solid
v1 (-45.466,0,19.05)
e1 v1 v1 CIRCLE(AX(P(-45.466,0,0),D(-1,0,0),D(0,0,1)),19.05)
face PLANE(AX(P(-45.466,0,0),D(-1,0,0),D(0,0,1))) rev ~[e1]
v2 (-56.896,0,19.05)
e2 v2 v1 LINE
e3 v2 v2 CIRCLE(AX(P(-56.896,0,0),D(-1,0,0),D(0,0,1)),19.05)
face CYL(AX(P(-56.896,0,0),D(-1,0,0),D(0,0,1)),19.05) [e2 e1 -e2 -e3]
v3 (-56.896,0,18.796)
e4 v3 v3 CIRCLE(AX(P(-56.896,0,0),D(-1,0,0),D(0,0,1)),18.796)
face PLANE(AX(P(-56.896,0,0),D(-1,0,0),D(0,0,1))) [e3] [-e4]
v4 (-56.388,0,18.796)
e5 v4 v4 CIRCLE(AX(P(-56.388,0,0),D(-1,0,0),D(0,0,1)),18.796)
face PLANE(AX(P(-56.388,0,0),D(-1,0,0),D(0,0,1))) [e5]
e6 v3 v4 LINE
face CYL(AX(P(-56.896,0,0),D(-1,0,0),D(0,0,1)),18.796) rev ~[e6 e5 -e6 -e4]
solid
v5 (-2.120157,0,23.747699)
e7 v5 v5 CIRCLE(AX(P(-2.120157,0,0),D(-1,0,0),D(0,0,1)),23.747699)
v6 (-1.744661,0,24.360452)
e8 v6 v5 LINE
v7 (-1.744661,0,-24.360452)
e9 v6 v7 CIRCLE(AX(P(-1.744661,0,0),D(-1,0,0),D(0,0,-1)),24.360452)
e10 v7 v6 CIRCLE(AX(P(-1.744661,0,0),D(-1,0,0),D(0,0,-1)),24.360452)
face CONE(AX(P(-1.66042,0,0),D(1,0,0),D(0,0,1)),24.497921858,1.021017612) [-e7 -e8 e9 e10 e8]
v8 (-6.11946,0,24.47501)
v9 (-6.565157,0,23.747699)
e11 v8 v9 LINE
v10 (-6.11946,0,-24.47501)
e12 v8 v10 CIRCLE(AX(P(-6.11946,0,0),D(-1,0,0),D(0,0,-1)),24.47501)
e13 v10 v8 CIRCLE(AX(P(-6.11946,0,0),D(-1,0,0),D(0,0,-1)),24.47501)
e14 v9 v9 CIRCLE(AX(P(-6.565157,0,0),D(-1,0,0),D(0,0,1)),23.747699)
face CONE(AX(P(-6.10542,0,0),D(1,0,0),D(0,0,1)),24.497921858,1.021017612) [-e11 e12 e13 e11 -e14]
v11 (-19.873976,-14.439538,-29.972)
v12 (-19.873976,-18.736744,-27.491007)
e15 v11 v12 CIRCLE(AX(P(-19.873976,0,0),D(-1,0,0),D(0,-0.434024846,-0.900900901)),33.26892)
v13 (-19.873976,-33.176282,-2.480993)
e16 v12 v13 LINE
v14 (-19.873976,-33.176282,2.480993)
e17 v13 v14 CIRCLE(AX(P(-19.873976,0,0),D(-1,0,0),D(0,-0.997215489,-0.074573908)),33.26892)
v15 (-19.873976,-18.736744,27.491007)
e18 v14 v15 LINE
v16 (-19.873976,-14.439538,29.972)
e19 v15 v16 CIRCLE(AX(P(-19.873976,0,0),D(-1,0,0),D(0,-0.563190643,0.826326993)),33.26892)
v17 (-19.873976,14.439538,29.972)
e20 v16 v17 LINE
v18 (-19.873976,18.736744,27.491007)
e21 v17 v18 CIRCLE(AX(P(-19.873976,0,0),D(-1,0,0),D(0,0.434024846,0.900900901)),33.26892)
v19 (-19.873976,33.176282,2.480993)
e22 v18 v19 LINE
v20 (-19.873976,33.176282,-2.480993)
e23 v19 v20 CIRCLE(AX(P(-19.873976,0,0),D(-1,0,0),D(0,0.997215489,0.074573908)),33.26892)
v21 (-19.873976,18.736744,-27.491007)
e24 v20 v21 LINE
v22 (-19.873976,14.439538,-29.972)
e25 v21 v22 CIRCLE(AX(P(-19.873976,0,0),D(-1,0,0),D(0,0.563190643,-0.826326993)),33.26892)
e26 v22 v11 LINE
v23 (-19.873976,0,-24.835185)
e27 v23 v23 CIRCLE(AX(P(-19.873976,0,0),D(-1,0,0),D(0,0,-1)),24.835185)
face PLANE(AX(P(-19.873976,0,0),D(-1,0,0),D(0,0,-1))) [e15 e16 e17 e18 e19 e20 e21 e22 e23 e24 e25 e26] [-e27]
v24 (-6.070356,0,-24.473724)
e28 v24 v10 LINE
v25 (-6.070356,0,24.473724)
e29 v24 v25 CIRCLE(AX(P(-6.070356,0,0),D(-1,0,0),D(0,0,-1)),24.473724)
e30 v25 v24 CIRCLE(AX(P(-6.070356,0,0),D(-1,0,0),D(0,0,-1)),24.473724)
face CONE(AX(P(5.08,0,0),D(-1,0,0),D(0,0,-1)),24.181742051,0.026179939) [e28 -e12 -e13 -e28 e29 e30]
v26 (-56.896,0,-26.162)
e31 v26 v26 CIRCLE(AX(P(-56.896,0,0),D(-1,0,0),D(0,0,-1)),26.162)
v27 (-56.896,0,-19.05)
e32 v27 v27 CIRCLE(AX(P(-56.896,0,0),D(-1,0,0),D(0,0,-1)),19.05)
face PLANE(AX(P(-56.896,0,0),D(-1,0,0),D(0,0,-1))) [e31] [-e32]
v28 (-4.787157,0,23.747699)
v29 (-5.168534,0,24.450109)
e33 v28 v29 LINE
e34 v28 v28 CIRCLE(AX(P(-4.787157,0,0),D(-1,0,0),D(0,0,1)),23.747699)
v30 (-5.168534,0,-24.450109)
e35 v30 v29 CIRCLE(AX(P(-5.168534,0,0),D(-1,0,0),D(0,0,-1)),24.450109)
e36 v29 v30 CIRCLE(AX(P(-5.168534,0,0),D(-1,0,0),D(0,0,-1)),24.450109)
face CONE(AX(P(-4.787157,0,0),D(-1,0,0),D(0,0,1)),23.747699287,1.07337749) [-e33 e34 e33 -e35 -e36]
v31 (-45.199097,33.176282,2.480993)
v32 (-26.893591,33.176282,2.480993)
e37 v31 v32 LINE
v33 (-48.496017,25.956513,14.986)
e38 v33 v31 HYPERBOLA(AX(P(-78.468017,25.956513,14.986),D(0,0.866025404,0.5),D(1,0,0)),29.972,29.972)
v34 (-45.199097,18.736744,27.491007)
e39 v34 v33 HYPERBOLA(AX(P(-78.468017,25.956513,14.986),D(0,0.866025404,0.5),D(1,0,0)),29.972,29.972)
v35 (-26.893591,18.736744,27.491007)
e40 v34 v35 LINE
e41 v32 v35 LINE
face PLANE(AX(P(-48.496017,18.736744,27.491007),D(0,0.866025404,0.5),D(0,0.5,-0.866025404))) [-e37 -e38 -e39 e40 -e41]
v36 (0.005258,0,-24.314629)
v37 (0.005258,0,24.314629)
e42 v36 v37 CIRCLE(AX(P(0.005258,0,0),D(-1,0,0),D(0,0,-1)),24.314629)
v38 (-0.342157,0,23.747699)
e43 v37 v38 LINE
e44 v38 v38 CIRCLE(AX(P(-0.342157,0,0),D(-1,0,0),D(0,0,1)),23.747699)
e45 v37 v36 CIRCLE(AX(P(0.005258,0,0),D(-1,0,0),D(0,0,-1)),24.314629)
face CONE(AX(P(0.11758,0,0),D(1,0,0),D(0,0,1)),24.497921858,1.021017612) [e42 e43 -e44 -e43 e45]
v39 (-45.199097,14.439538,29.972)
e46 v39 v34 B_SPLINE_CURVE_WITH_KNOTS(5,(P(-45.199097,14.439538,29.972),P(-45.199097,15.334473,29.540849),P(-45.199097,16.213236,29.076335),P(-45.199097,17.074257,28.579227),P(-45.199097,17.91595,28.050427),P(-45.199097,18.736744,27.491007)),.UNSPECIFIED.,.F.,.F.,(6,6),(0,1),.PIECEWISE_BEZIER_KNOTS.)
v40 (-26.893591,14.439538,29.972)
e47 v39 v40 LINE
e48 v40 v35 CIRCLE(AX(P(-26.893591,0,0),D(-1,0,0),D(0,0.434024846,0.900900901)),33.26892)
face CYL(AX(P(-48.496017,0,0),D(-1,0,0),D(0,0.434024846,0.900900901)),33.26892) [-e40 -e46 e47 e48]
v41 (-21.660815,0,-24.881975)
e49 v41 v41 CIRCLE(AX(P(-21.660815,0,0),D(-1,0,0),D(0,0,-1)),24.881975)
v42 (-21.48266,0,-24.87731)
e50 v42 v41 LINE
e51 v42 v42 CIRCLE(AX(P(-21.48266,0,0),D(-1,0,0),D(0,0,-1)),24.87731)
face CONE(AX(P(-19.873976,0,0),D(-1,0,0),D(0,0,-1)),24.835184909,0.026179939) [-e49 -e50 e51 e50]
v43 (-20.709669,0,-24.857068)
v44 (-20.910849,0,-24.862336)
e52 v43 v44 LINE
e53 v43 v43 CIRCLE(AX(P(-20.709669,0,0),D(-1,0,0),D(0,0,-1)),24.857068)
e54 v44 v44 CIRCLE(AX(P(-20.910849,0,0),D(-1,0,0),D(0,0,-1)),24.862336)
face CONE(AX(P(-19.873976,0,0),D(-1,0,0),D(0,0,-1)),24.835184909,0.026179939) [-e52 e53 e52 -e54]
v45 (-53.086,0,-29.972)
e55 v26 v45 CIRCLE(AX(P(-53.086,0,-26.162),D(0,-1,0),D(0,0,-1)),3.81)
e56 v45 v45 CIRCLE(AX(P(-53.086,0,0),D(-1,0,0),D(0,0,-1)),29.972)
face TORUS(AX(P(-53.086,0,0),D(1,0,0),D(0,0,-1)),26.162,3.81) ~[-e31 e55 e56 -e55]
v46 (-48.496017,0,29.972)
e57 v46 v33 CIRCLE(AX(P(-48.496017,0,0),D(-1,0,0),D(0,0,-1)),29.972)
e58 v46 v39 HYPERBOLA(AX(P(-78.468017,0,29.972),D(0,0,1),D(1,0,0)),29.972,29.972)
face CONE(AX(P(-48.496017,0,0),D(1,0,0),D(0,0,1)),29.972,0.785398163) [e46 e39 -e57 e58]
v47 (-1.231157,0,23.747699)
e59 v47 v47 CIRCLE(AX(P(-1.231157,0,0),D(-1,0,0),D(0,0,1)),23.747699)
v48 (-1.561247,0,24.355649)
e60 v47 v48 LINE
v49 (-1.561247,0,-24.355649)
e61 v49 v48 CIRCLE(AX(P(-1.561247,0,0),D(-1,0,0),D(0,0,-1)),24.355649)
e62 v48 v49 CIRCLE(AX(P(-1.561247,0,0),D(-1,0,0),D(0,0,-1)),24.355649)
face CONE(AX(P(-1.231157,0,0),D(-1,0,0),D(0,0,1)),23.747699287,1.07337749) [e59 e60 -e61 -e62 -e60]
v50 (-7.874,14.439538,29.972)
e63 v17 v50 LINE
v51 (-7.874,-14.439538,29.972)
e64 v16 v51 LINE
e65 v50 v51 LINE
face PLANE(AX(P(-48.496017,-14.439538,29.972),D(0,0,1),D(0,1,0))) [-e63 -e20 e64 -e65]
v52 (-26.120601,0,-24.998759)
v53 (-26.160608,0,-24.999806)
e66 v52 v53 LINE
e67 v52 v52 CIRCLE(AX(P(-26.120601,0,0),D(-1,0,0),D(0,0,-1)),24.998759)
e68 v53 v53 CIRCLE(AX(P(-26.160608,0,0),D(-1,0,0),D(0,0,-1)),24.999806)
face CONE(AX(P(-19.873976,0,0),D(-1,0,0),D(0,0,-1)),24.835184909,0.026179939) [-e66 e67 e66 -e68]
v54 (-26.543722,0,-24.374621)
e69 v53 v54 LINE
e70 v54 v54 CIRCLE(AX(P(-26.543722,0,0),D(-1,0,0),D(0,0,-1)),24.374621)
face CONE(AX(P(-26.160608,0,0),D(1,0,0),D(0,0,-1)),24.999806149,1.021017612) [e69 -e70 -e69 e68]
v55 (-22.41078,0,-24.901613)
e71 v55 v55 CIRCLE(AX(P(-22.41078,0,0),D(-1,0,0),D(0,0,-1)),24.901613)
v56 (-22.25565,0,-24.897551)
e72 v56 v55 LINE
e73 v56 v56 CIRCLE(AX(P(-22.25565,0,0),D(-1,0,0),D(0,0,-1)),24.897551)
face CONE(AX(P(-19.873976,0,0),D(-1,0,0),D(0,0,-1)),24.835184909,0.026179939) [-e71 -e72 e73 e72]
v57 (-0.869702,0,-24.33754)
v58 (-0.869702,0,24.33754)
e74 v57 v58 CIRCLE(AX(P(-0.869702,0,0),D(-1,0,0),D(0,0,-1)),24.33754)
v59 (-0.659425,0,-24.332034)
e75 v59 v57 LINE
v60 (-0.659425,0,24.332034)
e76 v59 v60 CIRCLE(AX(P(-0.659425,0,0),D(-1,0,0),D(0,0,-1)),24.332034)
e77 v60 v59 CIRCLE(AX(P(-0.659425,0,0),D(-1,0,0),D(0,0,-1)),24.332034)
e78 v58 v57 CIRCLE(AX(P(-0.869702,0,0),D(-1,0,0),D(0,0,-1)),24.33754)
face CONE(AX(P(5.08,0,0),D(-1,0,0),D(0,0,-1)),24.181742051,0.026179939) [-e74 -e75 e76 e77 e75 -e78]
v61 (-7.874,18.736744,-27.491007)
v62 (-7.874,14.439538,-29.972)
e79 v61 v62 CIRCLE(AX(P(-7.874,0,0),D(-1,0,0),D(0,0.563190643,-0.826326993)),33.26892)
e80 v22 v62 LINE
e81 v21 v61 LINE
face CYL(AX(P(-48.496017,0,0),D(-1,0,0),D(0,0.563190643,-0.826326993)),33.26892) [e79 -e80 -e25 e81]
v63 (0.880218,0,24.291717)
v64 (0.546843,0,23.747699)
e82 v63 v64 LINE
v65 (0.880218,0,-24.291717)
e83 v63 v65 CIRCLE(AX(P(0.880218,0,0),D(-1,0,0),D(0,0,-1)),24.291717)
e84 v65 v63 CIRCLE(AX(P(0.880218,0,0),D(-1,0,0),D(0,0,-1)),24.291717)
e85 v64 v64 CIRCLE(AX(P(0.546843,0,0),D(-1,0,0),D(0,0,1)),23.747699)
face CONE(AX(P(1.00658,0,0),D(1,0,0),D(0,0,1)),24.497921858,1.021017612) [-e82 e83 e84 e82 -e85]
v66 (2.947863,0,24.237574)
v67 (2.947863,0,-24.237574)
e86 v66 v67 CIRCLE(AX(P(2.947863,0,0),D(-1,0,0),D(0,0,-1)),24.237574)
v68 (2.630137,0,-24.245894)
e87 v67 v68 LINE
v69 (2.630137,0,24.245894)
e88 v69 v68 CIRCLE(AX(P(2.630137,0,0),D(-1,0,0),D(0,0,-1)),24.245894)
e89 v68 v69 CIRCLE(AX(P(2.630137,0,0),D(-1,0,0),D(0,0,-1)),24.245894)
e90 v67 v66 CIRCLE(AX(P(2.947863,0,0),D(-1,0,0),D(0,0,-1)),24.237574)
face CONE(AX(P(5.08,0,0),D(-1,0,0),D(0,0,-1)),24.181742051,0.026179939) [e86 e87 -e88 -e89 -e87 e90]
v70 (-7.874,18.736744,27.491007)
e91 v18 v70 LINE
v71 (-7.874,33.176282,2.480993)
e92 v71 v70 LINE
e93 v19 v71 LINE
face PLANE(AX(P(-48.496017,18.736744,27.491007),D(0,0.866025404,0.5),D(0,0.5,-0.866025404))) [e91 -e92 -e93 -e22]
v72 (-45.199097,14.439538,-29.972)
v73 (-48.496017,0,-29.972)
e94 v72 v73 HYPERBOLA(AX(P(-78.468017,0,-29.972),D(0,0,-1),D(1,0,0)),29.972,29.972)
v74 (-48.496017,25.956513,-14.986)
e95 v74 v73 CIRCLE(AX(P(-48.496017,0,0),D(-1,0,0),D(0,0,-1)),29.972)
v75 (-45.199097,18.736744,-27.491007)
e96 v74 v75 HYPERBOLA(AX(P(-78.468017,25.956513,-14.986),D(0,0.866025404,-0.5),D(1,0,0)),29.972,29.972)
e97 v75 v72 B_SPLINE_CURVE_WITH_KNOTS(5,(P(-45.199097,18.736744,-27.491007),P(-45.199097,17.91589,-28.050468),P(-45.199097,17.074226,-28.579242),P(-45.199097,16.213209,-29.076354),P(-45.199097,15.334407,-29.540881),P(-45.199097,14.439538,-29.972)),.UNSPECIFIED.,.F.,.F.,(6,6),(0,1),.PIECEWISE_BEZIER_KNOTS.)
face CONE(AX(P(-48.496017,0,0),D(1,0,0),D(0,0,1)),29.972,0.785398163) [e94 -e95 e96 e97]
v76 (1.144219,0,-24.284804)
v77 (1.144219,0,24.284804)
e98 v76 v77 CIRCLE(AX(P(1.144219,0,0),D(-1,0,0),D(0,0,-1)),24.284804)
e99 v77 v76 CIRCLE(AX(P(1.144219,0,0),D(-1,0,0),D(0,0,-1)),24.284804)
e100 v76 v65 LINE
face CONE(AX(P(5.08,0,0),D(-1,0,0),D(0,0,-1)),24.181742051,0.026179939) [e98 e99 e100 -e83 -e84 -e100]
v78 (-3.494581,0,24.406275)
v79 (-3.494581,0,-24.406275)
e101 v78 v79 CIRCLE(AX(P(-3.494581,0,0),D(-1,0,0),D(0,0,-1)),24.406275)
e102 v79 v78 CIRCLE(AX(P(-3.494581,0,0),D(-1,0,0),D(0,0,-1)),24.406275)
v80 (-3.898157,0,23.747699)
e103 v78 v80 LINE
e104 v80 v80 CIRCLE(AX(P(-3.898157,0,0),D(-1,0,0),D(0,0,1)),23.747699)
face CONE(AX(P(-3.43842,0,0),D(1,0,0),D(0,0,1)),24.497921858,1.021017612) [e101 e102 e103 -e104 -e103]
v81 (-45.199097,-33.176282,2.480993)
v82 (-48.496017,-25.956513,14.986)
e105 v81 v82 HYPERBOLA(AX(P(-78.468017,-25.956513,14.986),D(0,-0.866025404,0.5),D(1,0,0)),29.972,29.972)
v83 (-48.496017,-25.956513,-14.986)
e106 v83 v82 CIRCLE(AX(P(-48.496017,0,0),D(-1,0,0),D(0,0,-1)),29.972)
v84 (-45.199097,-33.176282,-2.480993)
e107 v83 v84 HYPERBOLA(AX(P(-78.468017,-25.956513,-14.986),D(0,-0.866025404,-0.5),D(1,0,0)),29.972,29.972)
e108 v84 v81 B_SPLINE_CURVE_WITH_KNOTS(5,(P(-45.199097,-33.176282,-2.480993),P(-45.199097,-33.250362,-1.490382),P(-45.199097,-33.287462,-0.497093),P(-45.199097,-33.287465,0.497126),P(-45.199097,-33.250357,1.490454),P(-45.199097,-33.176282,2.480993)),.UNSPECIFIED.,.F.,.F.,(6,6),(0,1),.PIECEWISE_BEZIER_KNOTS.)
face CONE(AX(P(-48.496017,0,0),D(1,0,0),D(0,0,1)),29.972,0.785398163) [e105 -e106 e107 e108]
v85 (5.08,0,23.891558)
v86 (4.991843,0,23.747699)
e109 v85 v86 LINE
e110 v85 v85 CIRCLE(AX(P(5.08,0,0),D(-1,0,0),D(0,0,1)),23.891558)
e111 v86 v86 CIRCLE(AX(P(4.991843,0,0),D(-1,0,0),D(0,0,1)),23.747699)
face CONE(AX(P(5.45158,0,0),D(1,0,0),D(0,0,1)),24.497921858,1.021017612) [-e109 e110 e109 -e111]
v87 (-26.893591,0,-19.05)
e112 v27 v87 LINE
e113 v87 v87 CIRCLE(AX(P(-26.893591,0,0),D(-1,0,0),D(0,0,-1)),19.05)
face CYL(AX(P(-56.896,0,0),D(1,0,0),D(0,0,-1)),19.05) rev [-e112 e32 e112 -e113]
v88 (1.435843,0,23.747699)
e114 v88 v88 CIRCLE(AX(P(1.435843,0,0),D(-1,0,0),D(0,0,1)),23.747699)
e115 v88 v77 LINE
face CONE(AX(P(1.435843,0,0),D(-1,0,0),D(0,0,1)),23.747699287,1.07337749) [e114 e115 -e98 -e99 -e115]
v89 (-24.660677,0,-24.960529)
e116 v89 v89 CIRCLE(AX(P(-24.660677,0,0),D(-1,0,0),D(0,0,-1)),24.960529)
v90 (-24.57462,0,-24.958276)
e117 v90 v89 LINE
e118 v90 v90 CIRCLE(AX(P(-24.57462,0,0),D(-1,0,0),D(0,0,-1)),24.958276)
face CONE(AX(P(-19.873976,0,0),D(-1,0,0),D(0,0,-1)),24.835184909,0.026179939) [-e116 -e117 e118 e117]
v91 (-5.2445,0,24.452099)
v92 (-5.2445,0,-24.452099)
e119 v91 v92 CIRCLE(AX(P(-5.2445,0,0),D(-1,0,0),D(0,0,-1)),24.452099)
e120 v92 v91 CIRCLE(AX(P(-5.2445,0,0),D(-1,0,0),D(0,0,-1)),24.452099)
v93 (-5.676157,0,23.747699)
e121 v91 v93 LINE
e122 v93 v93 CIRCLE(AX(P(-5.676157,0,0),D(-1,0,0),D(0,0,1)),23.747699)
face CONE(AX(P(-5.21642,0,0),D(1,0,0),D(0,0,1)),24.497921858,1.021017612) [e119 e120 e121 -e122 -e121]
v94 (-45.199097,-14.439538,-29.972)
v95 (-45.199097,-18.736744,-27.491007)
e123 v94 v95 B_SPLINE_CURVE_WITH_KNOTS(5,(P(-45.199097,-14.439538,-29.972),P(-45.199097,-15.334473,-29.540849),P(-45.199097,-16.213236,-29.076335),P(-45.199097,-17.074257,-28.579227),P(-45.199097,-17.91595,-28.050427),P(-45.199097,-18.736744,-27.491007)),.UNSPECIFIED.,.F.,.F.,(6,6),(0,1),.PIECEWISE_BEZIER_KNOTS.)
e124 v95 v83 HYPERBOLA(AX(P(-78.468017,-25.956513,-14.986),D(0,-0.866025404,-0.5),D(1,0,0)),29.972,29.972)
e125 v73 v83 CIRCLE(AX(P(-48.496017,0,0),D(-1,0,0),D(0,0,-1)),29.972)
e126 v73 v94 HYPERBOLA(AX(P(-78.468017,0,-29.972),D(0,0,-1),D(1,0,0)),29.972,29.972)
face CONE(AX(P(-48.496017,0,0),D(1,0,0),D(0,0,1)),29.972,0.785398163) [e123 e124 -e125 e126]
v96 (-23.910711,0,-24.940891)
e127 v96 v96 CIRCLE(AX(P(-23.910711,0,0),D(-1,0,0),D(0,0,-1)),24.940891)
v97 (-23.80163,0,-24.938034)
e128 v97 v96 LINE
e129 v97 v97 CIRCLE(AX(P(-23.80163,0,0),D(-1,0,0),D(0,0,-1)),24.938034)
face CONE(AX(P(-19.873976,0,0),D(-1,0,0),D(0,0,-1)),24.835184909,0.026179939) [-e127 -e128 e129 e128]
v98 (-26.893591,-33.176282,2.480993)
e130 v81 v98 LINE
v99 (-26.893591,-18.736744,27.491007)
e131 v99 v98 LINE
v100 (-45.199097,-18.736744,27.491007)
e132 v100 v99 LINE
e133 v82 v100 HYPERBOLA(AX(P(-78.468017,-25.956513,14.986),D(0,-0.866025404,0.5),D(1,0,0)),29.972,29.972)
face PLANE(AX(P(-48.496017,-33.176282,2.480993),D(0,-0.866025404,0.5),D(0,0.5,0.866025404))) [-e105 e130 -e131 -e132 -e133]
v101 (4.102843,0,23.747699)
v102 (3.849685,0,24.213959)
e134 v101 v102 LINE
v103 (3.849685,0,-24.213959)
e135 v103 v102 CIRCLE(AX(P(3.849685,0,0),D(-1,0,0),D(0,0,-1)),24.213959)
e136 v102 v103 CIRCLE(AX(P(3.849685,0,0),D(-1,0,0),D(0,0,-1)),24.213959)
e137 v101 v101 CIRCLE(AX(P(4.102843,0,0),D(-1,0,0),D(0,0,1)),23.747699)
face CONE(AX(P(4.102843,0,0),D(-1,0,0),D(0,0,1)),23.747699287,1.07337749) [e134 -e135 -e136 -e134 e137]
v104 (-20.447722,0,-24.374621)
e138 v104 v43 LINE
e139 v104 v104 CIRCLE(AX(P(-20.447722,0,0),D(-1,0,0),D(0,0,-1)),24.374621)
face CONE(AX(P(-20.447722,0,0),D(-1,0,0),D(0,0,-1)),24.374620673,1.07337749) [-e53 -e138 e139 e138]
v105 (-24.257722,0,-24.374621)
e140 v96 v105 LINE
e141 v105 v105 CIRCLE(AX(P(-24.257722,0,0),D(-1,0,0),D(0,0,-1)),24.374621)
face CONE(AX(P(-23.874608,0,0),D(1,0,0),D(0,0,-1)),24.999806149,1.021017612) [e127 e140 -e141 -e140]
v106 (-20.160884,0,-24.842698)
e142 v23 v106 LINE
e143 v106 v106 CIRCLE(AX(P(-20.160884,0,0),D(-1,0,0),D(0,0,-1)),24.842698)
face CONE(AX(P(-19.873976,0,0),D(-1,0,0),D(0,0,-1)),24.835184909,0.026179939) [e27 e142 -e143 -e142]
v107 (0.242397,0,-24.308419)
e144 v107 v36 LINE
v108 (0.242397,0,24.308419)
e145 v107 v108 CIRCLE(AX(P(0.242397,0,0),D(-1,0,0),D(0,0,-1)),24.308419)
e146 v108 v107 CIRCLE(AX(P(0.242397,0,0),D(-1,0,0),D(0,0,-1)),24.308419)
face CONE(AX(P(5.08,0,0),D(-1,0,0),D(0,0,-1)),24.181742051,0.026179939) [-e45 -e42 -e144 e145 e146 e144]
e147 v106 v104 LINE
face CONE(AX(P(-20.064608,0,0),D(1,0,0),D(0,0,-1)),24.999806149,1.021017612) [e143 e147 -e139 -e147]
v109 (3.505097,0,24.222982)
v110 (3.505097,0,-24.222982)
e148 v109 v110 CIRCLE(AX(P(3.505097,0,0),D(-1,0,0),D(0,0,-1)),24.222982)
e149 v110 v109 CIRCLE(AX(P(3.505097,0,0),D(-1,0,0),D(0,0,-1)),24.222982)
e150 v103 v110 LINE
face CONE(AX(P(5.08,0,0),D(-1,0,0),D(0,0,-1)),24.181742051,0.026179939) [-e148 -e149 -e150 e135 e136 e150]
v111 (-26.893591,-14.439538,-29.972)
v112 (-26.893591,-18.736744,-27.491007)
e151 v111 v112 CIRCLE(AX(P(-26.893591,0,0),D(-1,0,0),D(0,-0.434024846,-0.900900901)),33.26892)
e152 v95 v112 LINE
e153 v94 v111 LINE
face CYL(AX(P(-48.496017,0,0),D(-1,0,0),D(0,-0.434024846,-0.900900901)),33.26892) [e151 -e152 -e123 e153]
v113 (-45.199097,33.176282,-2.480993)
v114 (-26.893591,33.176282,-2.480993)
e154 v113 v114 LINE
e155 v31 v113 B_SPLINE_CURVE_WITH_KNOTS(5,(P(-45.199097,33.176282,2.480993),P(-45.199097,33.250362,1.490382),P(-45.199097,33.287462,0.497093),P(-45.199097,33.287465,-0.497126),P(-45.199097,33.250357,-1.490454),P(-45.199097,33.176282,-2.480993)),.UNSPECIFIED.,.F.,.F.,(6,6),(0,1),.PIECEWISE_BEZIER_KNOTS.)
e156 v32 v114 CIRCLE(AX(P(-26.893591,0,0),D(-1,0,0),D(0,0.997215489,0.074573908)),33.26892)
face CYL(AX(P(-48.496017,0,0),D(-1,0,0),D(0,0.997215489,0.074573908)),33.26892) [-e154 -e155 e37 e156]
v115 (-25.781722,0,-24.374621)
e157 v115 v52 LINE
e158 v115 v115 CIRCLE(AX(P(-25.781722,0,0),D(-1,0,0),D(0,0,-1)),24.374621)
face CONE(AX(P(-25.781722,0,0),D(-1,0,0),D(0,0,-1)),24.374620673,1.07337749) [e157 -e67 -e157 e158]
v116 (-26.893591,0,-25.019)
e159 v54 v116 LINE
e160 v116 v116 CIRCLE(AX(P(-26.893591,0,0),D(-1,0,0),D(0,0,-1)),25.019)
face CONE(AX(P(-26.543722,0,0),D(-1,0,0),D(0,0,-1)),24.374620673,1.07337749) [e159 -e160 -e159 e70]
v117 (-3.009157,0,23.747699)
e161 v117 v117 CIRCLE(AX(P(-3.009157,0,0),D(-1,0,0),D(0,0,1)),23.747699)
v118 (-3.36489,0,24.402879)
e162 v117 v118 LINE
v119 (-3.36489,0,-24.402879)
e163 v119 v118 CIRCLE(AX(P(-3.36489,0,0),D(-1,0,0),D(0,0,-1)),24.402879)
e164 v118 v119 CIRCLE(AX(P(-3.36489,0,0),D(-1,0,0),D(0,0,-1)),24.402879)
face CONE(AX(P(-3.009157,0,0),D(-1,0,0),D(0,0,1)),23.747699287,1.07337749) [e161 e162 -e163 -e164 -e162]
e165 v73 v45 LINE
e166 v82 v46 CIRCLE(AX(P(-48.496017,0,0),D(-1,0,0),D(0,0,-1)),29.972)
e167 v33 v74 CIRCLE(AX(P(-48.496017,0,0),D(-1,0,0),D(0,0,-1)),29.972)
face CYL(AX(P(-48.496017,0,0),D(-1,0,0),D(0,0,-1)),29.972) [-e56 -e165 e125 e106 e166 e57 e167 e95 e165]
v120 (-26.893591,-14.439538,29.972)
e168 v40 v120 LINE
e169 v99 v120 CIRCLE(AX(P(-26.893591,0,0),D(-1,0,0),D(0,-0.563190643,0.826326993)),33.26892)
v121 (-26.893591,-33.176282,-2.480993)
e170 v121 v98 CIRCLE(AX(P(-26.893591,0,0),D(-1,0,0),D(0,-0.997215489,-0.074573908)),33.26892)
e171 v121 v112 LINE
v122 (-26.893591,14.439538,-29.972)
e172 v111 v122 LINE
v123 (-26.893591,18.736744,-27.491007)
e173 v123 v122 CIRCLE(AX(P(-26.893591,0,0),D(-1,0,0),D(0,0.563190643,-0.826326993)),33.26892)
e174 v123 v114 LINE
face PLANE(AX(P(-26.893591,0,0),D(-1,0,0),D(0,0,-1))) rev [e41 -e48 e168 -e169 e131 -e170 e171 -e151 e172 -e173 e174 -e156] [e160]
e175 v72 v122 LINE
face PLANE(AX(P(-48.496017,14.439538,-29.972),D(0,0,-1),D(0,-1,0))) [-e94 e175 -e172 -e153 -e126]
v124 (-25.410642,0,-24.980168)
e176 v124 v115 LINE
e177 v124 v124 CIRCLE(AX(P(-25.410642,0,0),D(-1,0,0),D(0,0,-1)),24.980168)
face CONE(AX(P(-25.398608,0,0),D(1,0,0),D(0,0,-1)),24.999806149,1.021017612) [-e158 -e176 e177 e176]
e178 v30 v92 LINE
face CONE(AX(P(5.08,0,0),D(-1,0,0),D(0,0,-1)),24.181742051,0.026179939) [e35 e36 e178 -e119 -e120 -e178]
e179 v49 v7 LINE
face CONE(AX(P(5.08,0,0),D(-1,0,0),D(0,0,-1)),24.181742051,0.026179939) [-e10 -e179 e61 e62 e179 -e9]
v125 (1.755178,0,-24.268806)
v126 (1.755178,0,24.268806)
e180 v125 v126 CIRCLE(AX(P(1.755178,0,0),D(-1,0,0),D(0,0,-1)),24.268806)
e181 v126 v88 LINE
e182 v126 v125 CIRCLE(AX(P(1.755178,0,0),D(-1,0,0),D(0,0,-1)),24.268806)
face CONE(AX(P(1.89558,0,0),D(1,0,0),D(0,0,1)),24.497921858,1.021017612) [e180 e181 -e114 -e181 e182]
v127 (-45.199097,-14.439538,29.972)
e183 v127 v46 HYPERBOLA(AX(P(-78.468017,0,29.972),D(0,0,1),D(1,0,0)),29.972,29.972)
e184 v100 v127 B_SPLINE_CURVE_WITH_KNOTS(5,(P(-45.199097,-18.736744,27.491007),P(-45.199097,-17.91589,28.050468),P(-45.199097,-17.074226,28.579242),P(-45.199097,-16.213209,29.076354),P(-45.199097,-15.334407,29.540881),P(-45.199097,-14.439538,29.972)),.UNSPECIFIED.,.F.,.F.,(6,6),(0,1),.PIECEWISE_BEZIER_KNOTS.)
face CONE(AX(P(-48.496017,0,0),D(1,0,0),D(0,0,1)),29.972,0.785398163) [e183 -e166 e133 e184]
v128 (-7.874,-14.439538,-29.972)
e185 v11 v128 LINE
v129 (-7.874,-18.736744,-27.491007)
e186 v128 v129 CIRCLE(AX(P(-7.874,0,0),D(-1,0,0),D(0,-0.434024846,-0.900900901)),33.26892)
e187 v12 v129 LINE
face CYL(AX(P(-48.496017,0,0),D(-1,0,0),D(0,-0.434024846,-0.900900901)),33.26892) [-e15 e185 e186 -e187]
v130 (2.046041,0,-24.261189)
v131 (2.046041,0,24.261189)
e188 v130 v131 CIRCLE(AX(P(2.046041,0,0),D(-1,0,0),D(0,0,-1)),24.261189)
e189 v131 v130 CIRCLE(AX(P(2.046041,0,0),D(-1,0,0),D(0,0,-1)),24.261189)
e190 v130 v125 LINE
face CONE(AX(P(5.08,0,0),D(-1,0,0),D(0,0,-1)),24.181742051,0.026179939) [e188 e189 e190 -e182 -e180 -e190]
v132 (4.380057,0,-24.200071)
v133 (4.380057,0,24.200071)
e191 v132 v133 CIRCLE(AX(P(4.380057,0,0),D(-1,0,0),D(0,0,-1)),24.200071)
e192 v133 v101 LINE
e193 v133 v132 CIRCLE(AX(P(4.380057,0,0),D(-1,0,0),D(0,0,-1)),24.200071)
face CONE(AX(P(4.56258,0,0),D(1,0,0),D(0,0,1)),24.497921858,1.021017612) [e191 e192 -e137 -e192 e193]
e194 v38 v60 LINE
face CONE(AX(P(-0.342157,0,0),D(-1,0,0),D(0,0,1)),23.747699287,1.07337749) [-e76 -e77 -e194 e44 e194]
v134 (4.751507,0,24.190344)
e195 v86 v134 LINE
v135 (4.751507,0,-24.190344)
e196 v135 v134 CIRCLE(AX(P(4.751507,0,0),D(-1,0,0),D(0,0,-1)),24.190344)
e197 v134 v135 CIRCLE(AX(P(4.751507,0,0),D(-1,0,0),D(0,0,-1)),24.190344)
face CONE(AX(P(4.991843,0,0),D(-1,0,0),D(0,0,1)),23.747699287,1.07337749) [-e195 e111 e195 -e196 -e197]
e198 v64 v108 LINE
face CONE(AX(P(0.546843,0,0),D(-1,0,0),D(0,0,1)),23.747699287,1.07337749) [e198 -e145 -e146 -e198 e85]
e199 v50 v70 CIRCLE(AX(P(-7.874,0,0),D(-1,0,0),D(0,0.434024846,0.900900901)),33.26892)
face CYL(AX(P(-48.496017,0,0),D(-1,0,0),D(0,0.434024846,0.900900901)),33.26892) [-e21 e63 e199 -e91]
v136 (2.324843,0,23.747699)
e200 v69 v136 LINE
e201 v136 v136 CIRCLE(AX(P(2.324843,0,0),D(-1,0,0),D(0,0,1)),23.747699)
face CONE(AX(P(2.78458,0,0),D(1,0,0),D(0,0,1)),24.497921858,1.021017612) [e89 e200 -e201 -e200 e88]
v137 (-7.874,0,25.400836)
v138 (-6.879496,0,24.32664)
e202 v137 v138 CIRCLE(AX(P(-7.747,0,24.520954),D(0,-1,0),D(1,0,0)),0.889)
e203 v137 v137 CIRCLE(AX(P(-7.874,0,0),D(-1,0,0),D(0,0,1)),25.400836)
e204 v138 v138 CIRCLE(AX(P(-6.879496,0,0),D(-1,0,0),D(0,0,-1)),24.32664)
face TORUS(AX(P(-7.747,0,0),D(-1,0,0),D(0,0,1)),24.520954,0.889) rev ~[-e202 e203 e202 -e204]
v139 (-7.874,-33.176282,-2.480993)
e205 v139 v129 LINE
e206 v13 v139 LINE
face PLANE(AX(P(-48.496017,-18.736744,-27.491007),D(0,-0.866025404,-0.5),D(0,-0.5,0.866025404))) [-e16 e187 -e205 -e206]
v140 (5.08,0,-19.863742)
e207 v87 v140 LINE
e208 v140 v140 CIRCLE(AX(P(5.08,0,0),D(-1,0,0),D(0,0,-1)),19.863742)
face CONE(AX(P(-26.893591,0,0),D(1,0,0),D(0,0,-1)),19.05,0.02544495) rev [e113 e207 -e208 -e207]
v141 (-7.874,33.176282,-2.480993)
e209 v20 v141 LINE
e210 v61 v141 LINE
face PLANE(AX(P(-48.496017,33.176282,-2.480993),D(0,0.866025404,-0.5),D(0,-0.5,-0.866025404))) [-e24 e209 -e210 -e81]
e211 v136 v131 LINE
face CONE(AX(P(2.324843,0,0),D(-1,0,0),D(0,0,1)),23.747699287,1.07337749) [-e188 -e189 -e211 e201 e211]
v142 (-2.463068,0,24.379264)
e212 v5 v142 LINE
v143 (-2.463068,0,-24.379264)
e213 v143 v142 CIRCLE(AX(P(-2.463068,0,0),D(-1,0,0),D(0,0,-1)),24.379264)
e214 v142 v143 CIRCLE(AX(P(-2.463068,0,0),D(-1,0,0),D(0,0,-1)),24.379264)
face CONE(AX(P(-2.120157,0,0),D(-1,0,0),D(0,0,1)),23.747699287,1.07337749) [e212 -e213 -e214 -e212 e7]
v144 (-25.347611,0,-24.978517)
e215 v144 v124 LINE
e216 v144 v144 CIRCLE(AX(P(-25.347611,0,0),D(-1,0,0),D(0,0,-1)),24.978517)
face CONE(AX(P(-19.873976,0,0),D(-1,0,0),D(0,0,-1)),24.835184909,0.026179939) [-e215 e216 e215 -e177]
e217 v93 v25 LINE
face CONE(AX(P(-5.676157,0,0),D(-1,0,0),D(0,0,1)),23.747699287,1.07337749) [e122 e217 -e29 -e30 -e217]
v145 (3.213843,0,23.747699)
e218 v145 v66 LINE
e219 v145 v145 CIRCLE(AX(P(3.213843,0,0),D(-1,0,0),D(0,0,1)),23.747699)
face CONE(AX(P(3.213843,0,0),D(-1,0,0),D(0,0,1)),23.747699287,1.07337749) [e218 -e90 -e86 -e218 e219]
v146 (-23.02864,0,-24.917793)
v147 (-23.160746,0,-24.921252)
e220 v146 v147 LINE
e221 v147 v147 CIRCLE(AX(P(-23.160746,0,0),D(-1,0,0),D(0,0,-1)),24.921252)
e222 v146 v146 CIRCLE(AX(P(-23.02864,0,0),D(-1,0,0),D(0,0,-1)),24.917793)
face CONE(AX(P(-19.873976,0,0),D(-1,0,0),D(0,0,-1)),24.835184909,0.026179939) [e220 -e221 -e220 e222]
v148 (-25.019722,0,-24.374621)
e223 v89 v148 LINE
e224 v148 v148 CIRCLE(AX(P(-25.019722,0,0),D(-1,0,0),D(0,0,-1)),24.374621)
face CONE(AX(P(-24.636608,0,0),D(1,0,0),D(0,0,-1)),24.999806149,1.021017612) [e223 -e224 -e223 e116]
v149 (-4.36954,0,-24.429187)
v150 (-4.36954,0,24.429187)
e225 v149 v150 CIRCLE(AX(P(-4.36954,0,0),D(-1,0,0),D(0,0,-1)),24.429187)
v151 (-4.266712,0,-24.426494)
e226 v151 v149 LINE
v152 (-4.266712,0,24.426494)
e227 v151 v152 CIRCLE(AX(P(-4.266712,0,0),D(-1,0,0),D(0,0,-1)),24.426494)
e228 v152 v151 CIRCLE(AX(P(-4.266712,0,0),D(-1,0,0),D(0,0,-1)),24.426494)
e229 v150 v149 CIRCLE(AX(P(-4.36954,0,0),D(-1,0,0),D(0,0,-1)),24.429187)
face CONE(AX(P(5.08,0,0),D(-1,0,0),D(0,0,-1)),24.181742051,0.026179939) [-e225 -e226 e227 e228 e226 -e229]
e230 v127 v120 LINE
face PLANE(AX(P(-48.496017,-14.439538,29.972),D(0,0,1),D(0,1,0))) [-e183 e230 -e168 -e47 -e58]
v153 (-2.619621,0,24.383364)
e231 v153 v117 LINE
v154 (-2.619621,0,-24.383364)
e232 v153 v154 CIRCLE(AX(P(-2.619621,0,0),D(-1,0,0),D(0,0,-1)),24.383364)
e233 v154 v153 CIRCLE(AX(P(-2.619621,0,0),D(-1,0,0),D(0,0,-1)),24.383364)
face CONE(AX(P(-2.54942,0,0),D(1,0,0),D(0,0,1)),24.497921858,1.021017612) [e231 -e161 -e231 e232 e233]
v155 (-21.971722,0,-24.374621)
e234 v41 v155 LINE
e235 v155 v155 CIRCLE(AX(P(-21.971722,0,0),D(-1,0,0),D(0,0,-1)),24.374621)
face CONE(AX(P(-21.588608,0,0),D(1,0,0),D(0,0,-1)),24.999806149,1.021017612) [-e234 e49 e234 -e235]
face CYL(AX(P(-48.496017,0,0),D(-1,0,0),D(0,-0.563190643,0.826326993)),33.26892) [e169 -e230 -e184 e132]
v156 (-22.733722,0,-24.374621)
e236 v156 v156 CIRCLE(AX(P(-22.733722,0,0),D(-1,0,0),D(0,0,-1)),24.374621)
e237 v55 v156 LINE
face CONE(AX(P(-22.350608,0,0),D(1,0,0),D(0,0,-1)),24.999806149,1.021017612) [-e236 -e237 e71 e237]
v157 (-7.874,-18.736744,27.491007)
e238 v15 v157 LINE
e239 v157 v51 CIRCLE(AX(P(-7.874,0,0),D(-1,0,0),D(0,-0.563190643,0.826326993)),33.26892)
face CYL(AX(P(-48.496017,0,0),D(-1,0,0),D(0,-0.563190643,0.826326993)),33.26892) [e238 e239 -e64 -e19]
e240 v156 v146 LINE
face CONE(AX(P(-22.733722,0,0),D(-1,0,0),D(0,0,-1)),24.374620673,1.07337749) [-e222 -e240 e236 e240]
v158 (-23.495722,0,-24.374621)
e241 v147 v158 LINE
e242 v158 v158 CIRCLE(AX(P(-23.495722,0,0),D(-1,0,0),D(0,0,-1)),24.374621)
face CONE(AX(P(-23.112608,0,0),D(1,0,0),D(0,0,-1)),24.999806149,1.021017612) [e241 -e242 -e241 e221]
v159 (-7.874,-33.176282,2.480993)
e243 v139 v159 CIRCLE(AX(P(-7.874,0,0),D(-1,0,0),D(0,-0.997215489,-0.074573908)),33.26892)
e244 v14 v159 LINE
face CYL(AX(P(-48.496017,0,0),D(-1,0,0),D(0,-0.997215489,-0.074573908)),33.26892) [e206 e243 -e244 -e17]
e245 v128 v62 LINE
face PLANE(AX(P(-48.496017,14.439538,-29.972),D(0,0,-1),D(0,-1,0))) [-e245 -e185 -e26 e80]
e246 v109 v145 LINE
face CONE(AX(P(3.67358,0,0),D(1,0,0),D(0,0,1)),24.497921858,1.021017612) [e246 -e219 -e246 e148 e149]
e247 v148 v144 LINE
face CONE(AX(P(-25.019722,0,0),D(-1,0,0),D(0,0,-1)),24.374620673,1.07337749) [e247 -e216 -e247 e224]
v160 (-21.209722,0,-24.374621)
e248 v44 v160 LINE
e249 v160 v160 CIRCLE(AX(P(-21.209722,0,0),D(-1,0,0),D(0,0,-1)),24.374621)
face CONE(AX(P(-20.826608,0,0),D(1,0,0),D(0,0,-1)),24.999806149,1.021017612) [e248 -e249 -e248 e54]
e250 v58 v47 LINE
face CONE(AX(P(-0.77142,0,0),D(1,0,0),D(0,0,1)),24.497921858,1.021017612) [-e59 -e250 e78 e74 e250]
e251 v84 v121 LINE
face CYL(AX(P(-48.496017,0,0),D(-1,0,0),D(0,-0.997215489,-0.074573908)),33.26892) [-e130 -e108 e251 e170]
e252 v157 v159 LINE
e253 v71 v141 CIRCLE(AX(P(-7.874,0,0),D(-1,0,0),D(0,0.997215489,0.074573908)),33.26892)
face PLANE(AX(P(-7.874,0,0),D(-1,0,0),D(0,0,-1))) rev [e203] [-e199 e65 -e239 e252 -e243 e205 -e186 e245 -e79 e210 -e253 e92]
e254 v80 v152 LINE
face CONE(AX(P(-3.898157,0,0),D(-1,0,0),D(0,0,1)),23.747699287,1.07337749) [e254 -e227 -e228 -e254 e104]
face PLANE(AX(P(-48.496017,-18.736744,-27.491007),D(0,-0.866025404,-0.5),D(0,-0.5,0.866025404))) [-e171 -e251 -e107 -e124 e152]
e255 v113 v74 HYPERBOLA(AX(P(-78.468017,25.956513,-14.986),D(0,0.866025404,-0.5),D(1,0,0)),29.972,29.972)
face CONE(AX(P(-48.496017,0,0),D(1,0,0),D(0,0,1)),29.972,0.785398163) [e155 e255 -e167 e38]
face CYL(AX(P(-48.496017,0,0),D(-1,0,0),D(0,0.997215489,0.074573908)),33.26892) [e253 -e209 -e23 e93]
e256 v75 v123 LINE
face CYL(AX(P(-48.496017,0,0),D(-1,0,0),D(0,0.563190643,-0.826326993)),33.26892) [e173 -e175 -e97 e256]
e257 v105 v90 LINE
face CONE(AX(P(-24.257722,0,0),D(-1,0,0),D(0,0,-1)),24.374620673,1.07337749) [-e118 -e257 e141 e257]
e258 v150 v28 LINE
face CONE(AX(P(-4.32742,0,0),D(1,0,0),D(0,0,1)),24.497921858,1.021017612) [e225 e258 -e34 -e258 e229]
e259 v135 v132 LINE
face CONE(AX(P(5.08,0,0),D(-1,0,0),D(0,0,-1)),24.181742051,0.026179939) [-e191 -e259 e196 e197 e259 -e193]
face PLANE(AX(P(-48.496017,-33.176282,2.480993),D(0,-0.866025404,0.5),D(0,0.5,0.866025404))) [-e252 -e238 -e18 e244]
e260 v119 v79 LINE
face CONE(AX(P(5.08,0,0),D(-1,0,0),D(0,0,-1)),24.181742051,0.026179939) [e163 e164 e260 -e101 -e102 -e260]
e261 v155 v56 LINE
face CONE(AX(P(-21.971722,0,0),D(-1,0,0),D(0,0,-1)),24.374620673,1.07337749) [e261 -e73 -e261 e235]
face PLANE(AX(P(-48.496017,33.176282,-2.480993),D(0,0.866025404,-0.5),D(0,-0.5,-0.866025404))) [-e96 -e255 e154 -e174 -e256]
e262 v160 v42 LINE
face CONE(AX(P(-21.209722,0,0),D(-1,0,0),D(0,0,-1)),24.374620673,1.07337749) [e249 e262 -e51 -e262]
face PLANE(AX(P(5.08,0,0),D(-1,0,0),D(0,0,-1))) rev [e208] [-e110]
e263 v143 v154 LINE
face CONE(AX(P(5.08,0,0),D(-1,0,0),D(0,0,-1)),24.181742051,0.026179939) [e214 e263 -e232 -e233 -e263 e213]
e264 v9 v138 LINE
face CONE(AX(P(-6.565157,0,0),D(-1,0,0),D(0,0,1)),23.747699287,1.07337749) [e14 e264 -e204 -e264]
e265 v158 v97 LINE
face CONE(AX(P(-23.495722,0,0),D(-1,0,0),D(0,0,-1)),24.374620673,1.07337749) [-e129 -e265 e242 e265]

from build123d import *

# Parameters (mm, degrees)
SKETCH12_OUTSIDE_W = 157.992
SKETCH12_OUTSIDE_H = 157.992
CUT_EXTRUDE2_DEPTH = 54.5760168
FILLET4_R          = 3.81
SKETCH19_OUTSIDE_W = 91.722
SKETCH19_OUTSIDE_H = 98.316
SKETCH19_OUTSIDE_R = 29.972
CUT_EXTRUDE3_DEPTH = 3.99796
CUT_EXTRUDE3_DRAFT = -45
CHAMFER1_SIZE      = 0.260919487
CHAMFER1_SIZE2     = 0.254
SKETCH21_R         = 19.05
PLUG_DEPTH         = 11.43
SKETCH22_R         = 18.796
CUT_EXTRUDE4_DEPTH = 0.508
LPATTERN1_COUNT    = 9
LPATTERN1_PITCH    = 0.762
LPATTERN2_COUNT    = 15
LPATTERN2_PITCH    = 0.889
SKETCH32_R         = 0.889


with BuildPart() as part:
    # Sketch10 → Revolve2 (revolve)
    with BuildSketch(Plane.XY, mode=Mode.PRIVATE) as revolve2_sk:
        Polygon((-56.896, 19.05), (-26.89359112, 19.05), (5.08, 19.863742051), (5.08, 24.181742051), (-7.874, 24.520954479), (-7.874, 59.944), (-19.873976, 59.944), (-19.873976, 24.835184909), (-26.89359112, 25.019), (-26.89359112, 59.944), (-48.4960168, 59.944), (-48.4960168, 29.972), (-56.896, 29.972), align=None)
    revolve(revolve2_sk.sketch.rotate(Axis((0, 0, 0), (-1, 0, 0)), 90), axis=Axis((0, 0, 0), (-1, 0, 0)))  # turned: the seam where the file's is

    # Sketch12 outside → Cut-Extrude2 (cut, through all)
    with BuildSketch(Plane.ZY.offset(48.4960168)):
        Rectangle(SKETCH12_OUTSIDE_W, SKETCH12_OUTSIDE_H)
        with BuildLine():
            Line((-2.480993384, 33.176282338), (-27.491006616, 18.736744466))
            ThreePointArc((-27.491006616, 18.736744466), (-28.811729876, 16.63446), (-29.972, 14.439537872))
            Line((-29.972, 14.439537872), (-29.972, -14.439537872))
            ThreePointArc((-29.972, -14.439537872), (-28.811729876, -16.63446), (-27.491006616, -18.736744466))
            Line((-27.491006616, -18.736744466), (-2.480993384, -33.176282338))
            ThreePointArc((-2.480993384, -33.176282338), (0, -33.26892), (2.480993384, -33.176282338))
            Line((2.480993384, -33.176282338), (27.491006616, -18.736744466))
            ThreePointArc((27.491006616, -18.736744466), (28.811729876, -16.63446), (29.972, -14.439537872))
            Line((29.972, -14.439537872), (29.972, 14.439537872))
            ThreePointArc((29.972, 14.439537872), (28.811729876, 16.63446), (27.491006616, 18.736744466))
            Line((27.491006616, 18.736744466), (2.480993384, 33.176282338))
            ThreePointArc((2.480993384, 33.176282338), (0, 33.26892), (-2.480993384, 33.176282338))
        make_face(mode=Mode.SUBTRACT)
    extrude(amount=-CUT_EXTRUDE2_DEPTH, mode=Mode.SUBTRACT)

    # Fillet4
    fillet4_edges = [part.edges().sort_by_distance(p)[0] for p in [
        (-56.896, 0, 29.972),
    ]]
    fillet(fillet4_edges, radius=FILLET4_R)


with BuildPart() as cut_extrude3_tool:
    # Sketch19 outside → Cut-Extrude3 (with draft: the straight prism first)
    with BuildSketch(Plane.ZY.offset(48.4960168)):
        Rectangle(SKETCH19_OUTSIDE_W, SKETCH19_OUTSIDE_H)
        Circle(SKETCH19_OUTSIDE_R, mode=Mode.SUBTRACT)
    extrude(amount=-CUT_EXTRUDE3_DEPTH)
    # Cut-Extrude3: the draft: its side faces are tilted about the plane it starts from
    cut_extrude3_sides = [cut_extrude3_tool.faces().sort_by_distance(p)[0] for p in [
        (-46.4970368, -49.158, 0),
        (-46.4970368, 0, 45.861),
        (-46.4970368, 49.158, 0),
        (-46.4970368, 0, -45.861),
        (-46.4970368, 0, -29.972),
    ]]
    draft(cut_extrude3_sides, Plane.ZY.offset(48.4960168), CUT_EXTRUDE3_DRAFT)


with BuildPart() as part_1:
    add(part.part)

    # Cut-Extrude3: cut by cut_extrude3_tool
    add(cut_extrude3_tool.part, mode=Mode.SUBTRACT)

    # Chamfer1
    chamfer1_edges = [part_1.edges().sort_by_distance(p)[0] for p in [
        (5.08, 0, 24.181742051),
    ]]
    chamfer1_side = [part_1.faces().sort_by_distance(p)[0] for p in [
        (5.08, 0, 20.547705002),
    ]]
    chamfer(chamfer1_edges, length=CHAMFER1_SIZE, length2=CHAMFER1_SIZE2, reference=chamfer1_side[0])

    # Sketch29 → Cut-Revolve1 (revolve, cut)
    with BuildSketch(Plane.XY, mode=Mode.PRIVATE) as cut_revolve1_sk:
        Polygon((-26.89359112, 25.019), (-26.160607539, 24.999806149), (-26.543721692, 24.374620673), align=None)
    cut_revolve1 = revolve(cut_revolve1_sk.sketch.rotate(Axis((0, 0, 0), (-1, 0, 0)), 90), axis=Axis((0, 0, 0), (-1, 0, 0)), mode=Mode.SUBTRACT)  # turned: the seam where the file's is

    # LPattern1: Cut-Revolve1 ×9
    with Locations(*[(i * LPATTERN1_PITCH, 0, 0) for i in range(1, LPATTERN1_COUNT)]):
        add(cut_revolve1, mode=Mode.SUBTRACT)

    # Sketch30 → Cut-Revolve2 (revolve, cut)
    with BuildSketch(Plane.XY, mode=Mode.PRIVATE) as cut_revolve2_sk:
        Polygon((-7.874, 24.520954479), (-6.994419703, 24.497921858), (-7.454156686, 23.747699287), align=None)
    cut_revolve2 = revolve(cut_revolve2_sk.sketch.rotate(Axis((0, 0, 0), (-1, 0, 0)), 270), axis=Axis((0, 0, 0), (-1, 0, 0)), mode=Mode.SUBTRACT)  # turned: the seam where the file's is

    # LPattern2: Cut-Revolve2 ×15
    with Locations(*[(i * LPATTERN2_PITCH, 0, 0) for i in range(1, LPATTERN2_COUNT)]):
        add(cut_revolve2, mode=Mode.SUBTRACT)

    # Sketch32 → Cut-Revolve3 (revolve, cut)
    with BuildSketch(Plane.XY, mode=Mode.PRIVATE) as cut_revolve3_sk:
        with Locations((-7.747, 24.520954479)):
            Circle(SKETCH32_R)
    revolve(cut_revolve3_sk.sketch.rotate(Axis((0, 0, 0), (-1, 0, 0)), 270), axis=Axis((0, 0, 0), (-1, 0, 0)), mode=Mode.SUBTRACT)  # turned: the seam where the file's is


with BuildPart() as body_2:
    # Sketch21 → plug (new body)
    with BuildSketch(Plane.ZY.offset(56.896)):
        Circle(SKETCH21_R)
    extrude(amount=-PLUG_DEPTH)

    # Sketch22 → Cut-Extrude4 (cut)
    with BuildSketch(Plane.ZY.offset(56.896)):
        Circle(SKETCH22_R)
    extrude(amount=-CUT_EXTRUDE4_DEPTH, mode=Mode.SUBTRACT)


solid = Compound([part_1.part, body_2.part])
